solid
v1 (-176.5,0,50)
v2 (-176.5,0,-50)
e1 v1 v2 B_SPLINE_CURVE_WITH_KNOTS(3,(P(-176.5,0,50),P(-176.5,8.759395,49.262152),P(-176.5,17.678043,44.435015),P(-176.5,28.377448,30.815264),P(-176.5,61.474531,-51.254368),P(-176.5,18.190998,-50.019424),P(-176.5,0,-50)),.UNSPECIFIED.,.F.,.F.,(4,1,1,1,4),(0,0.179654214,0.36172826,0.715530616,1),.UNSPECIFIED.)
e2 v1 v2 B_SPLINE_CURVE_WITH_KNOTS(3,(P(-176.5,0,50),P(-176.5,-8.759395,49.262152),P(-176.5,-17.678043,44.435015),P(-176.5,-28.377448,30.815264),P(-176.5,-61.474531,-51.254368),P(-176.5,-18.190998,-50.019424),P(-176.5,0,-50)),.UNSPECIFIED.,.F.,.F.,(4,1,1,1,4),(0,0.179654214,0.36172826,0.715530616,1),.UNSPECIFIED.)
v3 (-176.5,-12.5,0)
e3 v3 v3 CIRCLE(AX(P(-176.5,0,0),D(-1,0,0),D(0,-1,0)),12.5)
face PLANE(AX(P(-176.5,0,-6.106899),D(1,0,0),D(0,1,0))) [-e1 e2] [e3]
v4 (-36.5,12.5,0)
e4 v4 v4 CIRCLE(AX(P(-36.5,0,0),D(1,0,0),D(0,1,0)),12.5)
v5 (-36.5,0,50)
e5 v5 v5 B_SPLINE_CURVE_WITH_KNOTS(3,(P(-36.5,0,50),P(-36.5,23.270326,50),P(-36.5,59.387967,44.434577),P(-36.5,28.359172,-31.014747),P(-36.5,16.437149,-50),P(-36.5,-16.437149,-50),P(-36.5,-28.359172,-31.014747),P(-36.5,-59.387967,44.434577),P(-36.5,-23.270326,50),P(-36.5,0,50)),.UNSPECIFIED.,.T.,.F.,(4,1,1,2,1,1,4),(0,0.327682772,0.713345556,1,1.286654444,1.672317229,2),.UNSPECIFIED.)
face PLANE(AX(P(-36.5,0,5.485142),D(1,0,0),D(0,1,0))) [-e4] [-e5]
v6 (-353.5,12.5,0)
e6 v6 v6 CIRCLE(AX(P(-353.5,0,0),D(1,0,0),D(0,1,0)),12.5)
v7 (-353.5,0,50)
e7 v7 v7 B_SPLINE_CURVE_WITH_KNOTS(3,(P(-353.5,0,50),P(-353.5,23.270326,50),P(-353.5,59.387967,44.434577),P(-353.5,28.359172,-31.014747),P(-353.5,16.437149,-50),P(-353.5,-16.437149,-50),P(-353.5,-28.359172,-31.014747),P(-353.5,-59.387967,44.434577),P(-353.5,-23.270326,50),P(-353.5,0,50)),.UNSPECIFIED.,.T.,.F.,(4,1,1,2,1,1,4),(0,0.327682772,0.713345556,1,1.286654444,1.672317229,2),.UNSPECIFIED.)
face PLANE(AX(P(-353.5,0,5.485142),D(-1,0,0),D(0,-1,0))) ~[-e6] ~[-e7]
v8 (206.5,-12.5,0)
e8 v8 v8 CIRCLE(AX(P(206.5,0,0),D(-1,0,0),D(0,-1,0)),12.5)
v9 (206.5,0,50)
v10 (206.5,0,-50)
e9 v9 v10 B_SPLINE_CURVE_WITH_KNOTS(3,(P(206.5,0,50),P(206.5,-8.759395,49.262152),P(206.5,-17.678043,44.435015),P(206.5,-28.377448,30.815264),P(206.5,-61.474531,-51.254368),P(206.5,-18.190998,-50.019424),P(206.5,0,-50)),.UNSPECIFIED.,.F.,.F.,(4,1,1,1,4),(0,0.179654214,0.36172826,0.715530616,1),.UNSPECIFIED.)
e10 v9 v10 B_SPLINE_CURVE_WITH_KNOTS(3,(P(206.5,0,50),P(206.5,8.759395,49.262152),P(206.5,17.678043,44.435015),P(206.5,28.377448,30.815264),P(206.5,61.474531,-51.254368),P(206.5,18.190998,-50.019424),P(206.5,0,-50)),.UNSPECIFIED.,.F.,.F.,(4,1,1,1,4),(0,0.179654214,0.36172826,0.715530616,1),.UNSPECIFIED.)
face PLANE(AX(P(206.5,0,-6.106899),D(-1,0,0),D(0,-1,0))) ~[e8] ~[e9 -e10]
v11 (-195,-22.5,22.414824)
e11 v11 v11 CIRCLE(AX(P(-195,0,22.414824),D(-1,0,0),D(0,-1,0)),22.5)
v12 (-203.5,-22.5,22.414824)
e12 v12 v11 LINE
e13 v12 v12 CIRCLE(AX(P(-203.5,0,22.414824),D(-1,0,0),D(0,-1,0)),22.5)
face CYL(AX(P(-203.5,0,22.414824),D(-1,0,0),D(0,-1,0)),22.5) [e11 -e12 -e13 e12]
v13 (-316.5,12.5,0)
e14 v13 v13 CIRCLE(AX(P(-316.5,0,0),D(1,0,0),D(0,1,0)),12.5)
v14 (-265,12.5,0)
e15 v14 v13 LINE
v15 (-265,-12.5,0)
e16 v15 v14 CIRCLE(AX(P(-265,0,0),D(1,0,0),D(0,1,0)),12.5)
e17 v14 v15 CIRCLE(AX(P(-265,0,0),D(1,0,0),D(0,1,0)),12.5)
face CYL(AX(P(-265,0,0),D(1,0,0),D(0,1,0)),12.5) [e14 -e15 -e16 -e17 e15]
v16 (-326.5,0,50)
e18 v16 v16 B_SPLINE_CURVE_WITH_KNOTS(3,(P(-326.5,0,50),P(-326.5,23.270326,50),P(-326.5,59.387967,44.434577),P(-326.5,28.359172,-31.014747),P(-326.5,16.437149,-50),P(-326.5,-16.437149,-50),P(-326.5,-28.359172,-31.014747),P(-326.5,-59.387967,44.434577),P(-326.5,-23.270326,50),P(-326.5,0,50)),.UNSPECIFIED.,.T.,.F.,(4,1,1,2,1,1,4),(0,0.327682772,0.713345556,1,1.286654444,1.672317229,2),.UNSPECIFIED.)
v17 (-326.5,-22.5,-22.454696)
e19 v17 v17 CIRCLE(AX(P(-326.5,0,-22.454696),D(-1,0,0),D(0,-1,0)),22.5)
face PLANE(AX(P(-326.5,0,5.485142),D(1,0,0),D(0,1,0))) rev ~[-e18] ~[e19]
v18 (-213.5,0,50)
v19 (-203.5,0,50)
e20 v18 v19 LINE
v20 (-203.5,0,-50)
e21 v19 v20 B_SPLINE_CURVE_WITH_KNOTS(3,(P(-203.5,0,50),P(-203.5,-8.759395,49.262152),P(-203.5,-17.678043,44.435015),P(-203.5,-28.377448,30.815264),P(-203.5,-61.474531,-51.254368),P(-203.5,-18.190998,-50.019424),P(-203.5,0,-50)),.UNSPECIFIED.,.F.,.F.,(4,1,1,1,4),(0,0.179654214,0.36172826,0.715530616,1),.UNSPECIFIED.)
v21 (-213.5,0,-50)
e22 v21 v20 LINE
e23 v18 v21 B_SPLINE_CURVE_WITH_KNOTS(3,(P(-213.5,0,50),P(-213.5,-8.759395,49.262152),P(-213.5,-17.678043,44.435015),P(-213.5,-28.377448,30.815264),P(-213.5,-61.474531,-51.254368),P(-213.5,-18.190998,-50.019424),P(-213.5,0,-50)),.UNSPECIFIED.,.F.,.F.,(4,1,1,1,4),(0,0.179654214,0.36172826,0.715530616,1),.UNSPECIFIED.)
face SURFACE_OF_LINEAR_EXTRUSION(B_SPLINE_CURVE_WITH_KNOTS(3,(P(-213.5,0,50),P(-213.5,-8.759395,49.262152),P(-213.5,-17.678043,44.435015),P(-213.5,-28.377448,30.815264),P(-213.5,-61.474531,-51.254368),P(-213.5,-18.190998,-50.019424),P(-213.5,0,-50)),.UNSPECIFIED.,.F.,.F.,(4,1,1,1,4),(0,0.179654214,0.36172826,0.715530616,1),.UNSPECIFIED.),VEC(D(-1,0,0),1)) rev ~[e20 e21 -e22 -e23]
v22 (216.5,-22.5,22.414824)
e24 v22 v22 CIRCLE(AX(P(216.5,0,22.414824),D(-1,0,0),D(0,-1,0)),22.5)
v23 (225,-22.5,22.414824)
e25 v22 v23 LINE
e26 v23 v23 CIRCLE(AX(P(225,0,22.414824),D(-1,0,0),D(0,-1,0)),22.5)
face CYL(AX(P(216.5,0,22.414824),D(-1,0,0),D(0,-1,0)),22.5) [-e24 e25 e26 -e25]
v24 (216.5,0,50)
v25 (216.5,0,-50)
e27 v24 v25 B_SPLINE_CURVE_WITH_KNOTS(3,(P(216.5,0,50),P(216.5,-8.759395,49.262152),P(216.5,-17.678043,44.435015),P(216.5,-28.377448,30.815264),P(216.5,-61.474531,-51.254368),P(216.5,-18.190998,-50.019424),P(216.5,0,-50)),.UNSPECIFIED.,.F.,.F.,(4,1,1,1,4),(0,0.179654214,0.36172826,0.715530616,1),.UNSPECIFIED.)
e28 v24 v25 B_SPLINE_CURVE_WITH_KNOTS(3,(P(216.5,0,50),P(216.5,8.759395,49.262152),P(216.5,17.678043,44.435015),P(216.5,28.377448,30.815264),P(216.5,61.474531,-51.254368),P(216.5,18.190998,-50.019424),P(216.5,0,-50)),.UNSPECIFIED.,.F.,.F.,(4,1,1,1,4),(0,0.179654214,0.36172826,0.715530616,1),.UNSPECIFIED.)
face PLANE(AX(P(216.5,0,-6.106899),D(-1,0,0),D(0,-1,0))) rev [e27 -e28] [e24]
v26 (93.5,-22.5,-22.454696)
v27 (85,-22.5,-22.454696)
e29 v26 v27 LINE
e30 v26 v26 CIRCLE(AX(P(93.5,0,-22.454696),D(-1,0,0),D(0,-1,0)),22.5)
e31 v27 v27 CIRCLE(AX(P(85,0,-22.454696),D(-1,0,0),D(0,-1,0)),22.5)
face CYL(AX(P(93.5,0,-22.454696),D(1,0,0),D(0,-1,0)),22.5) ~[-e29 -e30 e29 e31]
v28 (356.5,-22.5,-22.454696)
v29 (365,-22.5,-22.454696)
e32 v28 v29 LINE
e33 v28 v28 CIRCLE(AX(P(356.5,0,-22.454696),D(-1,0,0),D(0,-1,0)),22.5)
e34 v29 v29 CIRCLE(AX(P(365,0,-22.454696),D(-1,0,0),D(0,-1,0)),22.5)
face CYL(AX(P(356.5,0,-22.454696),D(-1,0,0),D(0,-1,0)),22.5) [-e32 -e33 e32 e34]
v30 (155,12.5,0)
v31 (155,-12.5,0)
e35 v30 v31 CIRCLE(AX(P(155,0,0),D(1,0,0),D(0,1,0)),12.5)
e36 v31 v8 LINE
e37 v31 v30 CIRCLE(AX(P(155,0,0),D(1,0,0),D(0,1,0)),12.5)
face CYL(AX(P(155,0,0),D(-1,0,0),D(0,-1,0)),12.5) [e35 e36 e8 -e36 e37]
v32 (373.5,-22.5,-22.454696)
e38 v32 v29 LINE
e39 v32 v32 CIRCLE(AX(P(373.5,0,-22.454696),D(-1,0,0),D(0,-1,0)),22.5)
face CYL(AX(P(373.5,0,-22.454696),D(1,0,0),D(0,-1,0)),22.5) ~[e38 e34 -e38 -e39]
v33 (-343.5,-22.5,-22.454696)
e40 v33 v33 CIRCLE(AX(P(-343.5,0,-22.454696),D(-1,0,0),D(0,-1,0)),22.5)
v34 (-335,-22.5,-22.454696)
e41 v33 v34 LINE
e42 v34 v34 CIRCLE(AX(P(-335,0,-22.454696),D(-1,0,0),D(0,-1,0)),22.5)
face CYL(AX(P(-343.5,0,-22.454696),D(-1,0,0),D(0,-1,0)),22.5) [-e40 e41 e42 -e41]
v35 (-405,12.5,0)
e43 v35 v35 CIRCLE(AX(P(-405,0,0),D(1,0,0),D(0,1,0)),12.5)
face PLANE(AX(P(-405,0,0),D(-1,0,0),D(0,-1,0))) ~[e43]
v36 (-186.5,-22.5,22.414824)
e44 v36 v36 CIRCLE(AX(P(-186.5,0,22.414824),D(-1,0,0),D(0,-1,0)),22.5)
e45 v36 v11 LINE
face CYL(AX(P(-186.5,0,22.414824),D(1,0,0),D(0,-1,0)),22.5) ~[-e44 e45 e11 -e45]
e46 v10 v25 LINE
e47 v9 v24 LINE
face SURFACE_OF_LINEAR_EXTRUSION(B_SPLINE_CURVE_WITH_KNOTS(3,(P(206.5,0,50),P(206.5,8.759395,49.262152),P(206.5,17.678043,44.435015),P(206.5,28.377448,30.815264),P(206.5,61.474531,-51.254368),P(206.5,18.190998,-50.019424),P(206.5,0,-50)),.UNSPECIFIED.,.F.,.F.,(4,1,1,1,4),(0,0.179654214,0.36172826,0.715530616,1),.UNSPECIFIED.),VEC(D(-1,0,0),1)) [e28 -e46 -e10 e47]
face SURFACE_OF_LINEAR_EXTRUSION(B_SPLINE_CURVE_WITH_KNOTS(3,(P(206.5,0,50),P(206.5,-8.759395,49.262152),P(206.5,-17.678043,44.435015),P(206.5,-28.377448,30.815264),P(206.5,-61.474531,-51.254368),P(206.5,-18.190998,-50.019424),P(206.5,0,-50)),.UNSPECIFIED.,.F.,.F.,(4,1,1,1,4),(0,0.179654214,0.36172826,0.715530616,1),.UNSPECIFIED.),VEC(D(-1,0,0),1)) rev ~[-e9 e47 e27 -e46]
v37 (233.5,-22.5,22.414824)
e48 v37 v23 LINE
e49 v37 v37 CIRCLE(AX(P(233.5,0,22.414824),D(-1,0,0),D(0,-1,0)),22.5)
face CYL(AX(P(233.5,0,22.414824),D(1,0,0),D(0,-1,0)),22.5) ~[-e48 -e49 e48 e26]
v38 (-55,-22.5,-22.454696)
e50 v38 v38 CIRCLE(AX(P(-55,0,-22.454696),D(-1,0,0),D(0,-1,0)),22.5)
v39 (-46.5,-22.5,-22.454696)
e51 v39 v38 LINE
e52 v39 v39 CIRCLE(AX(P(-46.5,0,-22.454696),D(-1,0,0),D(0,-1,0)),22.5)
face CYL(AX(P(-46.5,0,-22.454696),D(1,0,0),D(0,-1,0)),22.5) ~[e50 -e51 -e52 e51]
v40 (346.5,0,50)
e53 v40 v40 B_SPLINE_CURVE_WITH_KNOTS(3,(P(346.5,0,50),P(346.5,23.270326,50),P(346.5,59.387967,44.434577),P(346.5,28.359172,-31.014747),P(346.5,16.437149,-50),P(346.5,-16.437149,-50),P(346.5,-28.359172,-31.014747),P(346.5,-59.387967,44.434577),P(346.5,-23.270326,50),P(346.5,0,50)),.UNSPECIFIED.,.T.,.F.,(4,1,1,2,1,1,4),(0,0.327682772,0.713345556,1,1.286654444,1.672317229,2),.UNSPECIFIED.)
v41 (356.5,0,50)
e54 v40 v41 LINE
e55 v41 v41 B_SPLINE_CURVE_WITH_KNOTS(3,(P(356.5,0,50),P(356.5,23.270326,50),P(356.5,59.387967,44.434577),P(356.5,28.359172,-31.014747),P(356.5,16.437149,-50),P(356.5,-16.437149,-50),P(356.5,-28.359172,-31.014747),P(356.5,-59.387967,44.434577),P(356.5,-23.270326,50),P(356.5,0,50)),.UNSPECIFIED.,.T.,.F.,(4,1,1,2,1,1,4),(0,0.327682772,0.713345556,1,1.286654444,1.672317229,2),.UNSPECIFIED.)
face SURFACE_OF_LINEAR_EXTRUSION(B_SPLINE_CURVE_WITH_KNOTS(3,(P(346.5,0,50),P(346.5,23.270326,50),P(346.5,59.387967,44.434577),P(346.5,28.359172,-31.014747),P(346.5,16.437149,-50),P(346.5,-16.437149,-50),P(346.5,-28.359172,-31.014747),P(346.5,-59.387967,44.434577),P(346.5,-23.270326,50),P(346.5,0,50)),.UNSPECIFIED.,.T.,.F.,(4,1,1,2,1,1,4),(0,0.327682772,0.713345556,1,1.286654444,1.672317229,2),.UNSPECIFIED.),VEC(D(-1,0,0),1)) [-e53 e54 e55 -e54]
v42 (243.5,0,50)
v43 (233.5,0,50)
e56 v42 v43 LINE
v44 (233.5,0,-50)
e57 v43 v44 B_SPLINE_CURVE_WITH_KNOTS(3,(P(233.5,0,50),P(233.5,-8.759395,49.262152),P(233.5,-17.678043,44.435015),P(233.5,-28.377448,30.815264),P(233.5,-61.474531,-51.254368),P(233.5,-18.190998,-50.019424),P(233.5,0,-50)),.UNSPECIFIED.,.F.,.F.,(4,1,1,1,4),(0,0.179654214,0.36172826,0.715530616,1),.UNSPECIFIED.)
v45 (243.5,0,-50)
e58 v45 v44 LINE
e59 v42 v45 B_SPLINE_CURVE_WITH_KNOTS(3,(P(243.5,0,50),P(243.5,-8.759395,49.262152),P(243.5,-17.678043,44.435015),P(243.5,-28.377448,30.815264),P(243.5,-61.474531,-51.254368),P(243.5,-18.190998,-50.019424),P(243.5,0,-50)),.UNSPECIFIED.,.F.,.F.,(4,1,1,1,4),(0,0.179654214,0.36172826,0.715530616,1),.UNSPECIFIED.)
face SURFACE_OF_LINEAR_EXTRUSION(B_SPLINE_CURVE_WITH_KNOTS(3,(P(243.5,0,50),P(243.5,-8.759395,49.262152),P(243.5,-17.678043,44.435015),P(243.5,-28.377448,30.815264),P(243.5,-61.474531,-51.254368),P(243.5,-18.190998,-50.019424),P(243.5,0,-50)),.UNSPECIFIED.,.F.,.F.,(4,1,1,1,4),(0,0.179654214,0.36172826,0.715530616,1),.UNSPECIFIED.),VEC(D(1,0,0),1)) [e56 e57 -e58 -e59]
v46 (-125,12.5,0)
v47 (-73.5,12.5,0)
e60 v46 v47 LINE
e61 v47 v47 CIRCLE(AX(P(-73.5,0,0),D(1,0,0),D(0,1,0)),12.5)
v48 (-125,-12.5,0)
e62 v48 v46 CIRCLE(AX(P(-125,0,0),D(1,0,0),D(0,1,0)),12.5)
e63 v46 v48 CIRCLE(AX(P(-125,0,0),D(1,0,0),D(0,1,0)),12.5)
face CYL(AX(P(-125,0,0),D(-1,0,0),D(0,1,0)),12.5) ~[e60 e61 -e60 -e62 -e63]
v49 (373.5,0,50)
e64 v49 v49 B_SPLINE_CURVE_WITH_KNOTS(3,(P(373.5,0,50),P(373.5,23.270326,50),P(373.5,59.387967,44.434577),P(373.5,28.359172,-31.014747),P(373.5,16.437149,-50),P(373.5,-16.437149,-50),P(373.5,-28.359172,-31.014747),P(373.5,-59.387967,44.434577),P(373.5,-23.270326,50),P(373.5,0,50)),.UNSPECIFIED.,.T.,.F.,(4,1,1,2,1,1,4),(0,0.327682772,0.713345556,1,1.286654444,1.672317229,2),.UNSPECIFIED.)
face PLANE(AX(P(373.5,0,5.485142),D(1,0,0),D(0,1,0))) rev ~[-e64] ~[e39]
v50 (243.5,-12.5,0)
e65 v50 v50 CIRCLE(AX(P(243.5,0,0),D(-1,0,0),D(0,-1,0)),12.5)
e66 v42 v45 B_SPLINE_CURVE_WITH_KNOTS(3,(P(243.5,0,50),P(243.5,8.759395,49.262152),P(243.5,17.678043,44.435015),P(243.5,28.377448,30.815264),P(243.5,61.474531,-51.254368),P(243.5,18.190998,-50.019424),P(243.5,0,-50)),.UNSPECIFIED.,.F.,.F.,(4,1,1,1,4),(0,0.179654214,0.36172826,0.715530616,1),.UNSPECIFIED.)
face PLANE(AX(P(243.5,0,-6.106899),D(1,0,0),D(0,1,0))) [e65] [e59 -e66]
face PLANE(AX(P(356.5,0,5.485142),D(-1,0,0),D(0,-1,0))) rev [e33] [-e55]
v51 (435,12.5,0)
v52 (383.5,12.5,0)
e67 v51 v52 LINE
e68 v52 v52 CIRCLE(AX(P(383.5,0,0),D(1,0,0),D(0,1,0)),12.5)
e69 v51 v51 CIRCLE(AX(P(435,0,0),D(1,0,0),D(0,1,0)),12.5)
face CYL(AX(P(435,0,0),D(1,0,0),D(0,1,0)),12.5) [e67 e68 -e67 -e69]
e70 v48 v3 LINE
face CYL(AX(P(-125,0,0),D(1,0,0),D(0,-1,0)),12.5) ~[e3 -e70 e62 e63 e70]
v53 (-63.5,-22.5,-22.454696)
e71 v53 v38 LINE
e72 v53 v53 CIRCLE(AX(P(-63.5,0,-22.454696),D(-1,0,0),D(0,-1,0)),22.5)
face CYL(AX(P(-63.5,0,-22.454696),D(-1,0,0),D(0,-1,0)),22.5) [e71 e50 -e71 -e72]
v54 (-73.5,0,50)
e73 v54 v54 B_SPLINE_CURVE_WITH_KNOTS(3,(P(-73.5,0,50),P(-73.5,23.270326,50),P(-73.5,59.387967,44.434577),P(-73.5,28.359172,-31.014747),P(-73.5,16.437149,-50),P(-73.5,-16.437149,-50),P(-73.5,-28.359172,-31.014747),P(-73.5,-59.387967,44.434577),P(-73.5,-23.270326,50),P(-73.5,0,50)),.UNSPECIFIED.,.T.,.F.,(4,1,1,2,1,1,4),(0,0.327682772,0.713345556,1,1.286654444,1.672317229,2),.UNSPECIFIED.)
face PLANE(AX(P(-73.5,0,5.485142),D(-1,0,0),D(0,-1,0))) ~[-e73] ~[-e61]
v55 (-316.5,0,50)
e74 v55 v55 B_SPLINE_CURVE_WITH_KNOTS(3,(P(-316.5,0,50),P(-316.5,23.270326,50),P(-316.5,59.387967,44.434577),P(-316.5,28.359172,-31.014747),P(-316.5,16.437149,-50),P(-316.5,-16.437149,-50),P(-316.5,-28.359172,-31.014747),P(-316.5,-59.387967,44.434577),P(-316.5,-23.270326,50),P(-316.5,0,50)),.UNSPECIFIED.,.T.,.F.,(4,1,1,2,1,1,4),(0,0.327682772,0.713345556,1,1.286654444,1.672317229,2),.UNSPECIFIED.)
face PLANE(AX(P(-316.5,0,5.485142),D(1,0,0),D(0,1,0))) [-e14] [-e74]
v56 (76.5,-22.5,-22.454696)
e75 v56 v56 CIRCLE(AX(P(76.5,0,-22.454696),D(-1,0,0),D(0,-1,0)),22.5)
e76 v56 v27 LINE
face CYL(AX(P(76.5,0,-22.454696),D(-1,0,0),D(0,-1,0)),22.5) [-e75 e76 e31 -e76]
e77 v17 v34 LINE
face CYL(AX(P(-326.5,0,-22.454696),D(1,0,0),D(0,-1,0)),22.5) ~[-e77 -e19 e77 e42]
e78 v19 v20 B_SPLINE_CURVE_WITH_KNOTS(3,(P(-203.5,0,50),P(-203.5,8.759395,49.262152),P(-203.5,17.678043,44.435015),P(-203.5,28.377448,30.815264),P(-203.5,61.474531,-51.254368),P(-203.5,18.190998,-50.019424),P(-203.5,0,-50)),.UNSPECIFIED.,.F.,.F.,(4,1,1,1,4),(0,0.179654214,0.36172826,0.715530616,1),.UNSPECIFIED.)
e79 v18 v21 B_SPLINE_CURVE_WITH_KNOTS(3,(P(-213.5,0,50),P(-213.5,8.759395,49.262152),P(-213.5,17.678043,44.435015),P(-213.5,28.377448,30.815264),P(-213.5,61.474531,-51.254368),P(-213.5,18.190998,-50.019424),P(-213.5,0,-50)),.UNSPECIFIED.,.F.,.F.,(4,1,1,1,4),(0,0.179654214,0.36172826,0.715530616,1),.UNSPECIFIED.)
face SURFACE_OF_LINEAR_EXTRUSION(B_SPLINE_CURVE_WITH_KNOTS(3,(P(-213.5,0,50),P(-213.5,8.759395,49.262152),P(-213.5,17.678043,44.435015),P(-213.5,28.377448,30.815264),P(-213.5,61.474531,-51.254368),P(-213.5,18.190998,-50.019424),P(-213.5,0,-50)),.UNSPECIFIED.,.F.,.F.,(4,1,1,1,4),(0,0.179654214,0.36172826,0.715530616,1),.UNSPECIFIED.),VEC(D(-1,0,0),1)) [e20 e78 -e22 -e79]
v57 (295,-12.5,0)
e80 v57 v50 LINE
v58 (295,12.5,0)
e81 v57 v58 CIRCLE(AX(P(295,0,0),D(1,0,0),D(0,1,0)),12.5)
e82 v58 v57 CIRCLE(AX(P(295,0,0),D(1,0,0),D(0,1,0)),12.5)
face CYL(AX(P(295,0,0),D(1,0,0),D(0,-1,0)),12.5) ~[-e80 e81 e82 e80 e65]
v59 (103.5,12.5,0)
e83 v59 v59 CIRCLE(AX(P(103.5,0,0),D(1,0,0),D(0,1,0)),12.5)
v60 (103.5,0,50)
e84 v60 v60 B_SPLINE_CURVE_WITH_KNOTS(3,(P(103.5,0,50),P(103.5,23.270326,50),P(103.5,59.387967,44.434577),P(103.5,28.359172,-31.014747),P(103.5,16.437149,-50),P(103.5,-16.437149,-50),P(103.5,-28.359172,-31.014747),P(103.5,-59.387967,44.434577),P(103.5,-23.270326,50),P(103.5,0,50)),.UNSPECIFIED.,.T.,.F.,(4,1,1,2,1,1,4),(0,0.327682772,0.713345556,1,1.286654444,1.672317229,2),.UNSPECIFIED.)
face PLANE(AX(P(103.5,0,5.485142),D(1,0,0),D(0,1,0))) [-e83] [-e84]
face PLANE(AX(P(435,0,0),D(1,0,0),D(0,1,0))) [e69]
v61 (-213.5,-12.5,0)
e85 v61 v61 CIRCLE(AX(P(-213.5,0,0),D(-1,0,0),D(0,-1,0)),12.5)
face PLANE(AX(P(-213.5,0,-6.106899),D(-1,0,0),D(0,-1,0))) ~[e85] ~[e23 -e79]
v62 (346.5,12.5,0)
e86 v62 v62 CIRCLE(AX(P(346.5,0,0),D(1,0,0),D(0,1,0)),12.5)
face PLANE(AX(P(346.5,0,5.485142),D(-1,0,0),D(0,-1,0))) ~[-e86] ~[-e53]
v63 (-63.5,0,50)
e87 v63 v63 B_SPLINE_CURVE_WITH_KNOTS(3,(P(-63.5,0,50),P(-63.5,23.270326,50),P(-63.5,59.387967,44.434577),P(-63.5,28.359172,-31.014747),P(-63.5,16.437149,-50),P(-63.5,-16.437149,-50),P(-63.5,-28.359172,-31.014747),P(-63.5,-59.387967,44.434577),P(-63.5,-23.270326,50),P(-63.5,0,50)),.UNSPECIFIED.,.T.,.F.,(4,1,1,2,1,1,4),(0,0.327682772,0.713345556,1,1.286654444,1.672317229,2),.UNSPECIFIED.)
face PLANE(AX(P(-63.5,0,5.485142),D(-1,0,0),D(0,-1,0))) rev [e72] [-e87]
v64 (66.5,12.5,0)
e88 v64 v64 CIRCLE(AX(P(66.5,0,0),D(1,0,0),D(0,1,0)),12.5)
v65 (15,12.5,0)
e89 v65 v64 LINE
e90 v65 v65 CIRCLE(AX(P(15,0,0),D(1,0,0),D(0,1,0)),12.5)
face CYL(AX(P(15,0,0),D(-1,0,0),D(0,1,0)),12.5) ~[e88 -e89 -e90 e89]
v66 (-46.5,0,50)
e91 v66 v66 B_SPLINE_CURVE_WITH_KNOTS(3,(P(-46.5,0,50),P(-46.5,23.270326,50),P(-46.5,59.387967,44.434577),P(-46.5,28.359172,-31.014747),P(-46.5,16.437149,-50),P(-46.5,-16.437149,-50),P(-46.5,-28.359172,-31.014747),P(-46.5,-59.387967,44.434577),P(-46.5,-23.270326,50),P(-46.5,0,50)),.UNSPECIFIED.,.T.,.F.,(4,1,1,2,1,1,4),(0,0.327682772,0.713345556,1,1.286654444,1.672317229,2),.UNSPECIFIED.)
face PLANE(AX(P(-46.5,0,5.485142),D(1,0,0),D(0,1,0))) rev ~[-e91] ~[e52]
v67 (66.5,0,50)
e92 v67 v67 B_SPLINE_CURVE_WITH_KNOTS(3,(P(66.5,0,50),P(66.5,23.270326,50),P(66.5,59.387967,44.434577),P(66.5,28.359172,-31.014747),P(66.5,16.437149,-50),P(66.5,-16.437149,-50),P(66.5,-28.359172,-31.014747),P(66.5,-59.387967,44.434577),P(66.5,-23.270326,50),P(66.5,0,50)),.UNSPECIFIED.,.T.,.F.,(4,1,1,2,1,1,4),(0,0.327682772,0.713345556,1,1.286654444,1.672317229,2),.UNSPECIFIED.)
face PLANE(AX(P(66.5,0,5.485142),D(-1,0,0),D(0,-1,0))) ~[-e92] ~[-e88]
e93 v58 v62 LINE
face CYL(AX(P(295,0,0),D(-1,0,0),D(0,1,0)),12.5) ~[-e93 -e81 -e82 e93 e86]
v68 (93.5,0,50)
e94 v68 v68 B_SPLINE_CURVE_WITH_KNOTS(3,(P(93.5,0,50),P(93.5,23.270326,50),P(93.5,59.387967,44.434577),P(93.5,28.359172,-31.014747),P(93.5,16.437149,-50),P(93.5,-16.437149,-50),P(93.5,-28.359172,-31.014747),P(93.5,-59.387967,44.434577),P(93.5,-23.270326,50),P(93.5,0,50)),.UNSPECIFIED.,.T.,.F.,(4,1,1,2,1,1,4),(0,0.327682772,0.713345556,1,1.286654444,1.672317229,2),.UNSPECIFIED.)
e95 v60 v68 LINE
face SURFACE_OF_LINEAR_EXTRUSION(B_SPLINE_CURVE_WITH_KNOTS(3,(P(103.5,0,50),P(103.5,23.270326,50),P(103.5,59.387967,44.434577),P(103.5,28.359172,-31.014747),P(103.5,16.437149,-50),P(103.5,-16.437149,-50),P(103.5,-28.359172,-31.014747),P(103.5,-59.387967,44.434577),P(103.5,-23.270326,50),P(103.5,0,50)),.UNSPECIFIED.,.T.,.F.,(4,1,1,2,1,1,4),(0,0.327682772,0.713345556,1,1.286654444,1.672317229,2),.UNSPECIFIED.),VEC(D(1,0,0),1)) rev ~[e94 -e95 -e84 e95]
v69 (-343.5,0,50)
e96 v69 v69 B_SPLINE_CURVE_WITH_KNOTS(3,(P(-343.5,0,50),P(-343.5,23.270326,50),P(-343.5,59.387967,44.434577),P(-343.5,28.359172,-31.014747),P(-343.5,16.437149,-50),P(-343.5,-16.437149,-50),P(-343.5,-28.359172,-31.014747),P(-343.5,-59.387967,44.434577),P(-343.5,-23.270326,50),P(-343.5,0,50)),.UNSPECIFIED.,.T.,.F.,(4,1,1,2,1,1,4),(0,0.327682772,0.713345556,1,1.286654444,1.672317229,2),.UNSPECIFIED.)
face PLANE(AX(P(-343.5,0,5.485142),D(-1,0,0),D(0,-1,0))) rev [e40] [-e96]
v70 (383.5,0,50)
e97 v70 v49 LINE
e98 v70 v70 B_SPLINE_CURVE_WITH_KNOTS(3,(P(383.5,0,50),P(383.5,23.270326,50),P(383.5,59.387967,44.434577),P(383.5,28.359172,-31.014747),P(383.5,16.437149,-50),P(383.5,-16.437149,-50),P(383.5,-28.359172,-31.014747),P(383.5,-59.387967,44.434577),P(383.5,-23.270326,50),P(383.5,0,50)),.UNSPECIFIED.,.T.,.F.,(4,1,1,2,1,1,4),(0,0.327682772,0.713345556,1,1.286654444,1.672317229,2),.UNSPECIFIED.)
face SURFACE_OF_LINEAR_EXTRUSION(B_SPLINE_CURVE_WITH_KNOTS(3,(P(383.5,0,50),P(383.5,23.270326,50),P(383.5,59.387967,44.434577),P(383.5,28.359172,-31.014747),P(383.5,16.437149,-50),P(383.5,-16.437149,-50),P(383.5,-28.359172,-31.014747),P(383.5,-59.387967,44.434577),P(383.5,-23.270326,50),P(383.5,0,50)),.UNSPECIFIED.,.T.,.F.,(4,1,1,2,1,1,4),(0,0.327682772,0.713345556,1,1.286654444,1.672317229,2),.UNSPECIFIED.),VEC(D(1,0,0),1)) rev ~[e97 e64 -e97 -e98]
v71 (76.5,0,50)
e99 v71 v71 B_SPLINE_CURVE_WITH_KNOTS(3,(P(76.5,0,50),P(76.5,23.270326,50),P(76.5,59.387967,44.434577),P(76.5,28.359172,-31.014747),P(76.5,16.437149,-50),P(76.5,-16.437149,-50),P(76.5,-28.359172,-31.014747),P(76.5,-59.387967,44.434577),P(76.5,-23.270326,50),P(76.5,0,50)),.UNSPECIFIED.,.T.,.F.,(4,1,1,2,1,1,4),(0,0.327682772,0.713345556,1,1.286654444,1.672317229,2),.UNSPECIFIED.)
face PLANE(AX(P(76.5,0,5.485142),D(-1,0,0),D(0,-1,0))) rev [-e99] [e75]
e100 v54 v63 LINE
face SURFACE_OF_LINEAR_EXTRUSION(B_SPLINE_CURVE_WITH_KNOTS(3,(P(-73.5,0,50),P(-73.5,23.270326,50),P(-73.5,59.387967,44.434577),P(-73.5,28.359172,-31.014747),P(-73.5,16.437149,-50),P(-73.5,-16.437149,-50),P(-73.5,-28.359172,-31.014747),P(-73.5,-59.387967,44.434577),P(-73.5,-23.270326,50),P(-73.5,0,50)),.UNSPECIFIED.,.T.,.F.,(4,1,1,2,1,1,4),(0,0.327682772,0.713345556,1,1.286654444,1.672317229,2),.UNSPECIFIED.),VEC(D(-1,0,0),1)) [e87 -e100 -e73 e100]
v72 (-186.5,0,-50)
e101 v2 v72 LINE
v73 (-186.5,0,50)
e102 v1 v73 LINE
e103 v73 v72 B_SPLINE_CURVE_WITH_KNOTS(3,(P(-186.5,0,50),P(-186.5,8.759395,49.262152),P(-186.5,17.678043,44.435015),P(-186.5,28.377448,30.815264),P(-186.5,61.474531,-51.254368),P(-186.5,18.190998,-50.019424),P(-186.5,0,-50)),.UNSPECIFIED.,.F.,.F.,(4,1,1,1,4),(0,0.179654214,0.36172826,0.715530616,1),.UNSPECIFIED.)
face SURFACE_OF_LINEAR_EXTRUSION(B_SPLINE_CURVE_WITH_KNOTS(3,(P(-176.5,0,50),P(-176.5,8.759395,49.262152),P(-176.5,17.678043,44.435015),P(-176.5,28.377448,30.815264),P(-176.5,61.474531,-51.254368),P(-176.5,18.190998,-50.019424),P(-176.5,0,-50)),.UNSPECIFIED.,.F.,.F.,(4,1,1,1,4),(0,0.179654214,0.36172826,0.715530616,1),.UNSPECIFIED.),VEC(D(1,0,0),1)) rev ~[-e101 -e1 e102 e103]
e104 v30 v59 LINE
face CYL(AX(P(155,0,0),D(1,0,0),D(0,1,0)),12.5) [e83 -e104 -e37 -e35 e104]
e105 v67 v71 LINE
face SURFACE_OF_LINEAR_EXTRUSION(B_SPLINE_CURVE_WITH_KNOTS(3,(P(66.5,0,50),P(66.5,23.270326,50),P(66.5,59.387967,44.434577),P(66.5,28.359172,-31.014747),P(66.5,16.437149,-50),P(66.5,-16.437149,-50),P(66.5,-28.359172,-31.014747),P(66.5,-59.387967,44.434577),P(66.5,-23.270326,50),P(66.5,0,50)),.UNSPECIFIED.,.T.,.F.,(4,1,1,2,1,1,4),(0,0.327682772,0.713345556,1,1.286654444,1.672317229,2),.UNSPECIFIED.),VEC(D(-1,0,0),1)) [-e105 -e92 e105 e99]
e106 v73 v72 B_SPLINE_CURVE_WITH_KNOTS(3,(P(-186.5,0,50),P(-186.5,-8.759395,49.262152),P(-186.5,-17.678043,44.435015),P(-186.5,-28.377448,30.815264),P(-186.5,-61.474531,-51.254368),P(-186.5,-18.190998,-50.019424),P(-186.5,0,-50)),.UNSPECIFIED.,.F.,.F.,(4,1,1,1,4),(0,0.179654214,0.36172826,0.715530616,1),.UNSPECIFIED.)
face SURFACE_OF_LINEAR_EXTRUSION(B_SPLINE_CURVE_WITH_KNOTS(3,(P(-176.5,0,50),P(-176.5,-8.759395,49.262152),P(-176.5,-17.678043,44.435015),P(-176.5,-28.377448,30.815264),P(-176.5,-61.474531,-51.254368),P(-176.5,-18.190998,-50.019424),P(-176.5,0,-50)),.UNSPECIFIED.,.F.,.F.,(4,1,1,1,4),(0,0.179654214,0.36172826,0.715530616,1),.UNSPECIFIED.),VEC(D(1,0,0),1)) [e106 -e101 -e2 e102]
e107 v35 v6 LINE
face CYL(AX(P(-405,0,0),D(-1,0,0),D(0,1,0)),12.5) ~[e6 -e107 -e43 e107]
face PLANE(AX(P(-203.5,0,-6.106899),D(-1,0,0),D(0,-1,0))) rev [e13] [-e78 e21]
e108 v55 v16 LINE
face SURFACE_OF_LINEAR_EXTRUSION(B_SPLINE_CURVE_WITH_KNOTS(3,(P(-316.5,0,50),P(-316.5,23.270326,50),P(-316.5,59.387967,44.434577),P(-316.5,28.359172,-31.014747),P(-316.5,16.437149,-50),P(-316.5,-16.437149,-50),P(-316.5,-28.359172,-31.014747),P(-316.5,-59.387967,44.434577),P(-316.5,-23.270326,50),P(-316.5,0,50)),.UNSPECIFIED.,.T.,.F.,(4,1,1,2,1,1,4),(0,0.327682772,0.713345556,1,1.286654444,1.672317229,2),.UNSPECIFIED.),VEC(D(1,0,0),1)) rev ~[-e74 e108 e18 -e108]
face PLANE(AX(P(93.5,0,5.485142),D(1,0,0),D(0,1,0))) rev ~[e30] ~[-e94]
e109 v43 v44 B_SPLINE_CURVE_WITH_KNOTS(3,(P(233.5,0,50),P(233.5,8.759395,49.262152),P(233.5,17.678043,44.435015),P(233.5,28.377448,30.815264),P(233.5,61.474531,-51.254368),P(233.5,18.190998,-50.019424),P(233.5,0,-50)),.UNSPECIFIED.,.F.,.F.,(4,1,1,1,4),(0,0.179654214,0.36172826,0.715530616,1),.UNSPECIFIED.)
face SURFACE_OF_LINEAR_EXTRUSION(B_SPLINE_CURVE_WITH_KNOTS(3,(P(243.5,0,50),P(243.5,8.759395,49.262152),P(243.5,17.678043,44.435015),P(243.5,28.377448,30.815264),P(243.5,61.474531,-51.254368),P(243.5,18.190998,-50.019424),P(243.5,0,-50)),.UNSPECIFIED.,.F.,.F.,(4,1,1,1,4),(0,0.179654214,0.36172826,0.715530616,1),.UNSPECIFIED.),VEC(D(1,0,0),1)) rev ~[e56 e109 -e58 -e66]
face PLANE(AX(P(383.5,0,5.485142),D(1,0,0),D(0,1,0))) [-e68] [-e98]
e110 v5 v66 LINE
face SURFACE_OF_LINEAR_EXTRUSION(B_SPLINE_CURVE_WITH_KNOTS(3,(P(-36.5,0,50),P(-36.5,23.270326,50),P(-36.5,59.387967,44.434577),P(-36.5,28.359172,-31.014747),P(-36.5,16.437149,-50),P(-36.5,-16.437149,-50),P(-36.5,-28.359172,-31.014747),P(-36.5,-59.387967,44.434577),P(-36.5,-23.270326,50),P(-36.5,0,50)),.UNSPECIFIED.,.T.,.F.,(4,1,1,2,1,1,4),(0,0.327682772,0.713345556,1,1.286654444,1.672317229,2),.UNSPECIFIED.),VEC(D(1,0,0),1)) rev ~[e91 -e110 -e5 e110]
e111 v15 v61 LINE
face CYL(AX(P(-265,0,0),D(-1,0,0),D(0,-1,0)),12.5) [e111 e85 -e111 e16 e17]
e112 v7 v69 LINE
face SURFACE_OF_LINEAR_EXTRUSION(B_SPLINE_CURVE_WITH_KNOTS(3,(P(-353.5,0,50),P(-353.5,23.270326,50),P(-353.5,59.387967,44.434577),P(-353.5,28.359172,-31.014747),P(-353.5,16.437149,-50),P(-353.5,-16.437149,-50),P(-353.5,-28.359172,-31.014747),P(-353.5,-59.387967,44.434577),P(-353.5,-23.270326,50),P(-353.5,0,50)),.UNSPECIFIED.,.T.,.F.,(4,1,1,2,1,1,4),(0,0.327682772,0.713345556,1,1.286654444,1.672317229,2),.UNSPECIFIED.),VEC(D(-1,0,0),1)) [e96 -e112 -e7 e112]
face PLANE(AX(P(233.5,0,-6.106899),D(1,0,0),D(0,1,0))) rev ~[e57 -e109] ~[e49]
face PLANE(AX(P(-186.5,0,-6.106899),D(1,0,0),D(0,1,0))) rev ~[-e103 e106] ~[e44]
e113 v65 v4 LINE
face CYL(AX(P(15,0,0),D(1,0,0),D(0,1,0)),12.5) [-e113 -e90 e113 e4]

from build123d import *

# Parameters (mm, degrees)
F2_R      = 12.5
F3_DEPTH  = 51.5
F5_DEPTH  = 10
F6_R      = 22.5
F7_DEPTH  = 8.5
F10_R     = 12.5
F11_DEPTH = 51.5
F13_DEPTH = 10
F14_R     = 22.5
F15_DEPTH = 8.5


with BuildPart() as f3:
    # F2 (on offset) → F3 (new body)
    with BuildSketch(Plane.YZ.offset(435)):
        Circle(F2_R)
    extrude(amount=-F3_DEPTH)

    # F4 (on face) → F5 (join)
    with BuildSketch(Plane(origin=(383.5, 0, 0), x_dir=(0, -1, 0), z_dir=(-1, 0, 0))):
        with BuildLine():
            add(Edge.make_bspline(
                [(0, 50), (23.2703256947, 50), (59.3879666838, 44.434576609), (28.3591716176, -31.0147470693), (16.4371486753, -50), (0, -50)],
                knots=[0, 0, 0, 0, 0.3276827715, 0.7133455558, 1, 1, 1, 1], degree=3))
            add(Edge.make_bspline(
                [(0, 50), (-23.2703256947, 50), (-59.3879666838, 44.434576609), (-28.3591716176, -31.0147470693), (-16.4371486753, -50), (0, -50)],
                knots=[0, 0, 0, 0, 0.3276827715, 0.7133455558, 1, 1, 1, 1], degree=3))
        make_face()
    extrude(amount=F5_DEPTH)

    # F6 (on face) → F7 (join)
    with BuildSketch(Plane(origin=(373.5, 0, 0), x_dir=(0, -1, 0), z_dir=(-1, 0, 0))):
        with Locations((0, -22.4546957761)):
            Circle(F6_R)
    extrude(amount=F7_DEPTH)

    # F8: F3 across face


with BuildPart() as f3_1:
    add(f3.part)
    add(f3.part.mirror(Plane(origin=(365, 0, -22.4546957761), x_dir=(0, -1, 0), z_dir=(-1, 0, 0))))

    # F10 (on face) → F11 (join)
    with BuildSketch(Plane(origin=(295, 0, 0), x_dir=(0, -1, 0), z_dir=(-1, 0, 0))):
        Circle(F10_R)
    extrude(amount=F11_DEPTH)

    # F12 (on face) → F13 (join)
    with BuildSketch(Plane(origin=(243.5, 0, 0), x_dir=(0, -1, 0), z_dir=(-1, 0, 0))):
        with BuildLine():
            add(Edge.make_bspline(
                [(0, 50), (8.759394599, 49.2621521858), (17.6780426561, 44.4350148349), (28.3774481045, 30.8152635632), (61.4745305874, -51.2543680027), (18.1909982284, -50.0194242251), (0, -50)],
                knots=[0, 0, 0, 0, 0.1796542145, 0.36172826, 0.715530616, 1, 1, 1, 1], degree=3))
            add(Edge.make_bspline(
                [(0, 50), (-8.759394599, 49.2621521858), (-17.6780426561, 44.4350148349), (-28.3774481045, 30.8152635632), (-61.4745305874, -51.2543680027), (-18.1909982284, -50.0194242251), (0, -50)],
                knots=[0, 0, 0, 0, 0.1796542145, 0.36172826, 0.715530616, 1, 1, 1, 1], degree=3))
        make_face()
    extrude(amount=F13_DEPTH)

    # F14 (on face) → F15 (join)
    with BuildSketch(Plane(origin=(233.5, 0, 0), x_dir=(0, -1, 0), z_dir=(-1, 0, 0))):
        with Locations((0, 22.414823994)):
            Circle(F14_R)
    extrude(amount=F15_DEPTH)

    # F16: F3 across face


with BuildPart() as f3_2:
    add(f3_1.part)
    add(f3_1.part.mirror(Plane(origin=(225, 0, 22.414823994), x_dir=(0, -1, 0), z_dir=(-1, 0, 0))))

    # F17: F3 across face


with BuildPart() as f3_3:
    add(f3_2.part)
    add(f3_2.part.mirror(Plane(origin=(15, 0, 0), x_dir=(0, -1, 0), z_dir=(-1, 0, 0))))


solid = f3_3.part
